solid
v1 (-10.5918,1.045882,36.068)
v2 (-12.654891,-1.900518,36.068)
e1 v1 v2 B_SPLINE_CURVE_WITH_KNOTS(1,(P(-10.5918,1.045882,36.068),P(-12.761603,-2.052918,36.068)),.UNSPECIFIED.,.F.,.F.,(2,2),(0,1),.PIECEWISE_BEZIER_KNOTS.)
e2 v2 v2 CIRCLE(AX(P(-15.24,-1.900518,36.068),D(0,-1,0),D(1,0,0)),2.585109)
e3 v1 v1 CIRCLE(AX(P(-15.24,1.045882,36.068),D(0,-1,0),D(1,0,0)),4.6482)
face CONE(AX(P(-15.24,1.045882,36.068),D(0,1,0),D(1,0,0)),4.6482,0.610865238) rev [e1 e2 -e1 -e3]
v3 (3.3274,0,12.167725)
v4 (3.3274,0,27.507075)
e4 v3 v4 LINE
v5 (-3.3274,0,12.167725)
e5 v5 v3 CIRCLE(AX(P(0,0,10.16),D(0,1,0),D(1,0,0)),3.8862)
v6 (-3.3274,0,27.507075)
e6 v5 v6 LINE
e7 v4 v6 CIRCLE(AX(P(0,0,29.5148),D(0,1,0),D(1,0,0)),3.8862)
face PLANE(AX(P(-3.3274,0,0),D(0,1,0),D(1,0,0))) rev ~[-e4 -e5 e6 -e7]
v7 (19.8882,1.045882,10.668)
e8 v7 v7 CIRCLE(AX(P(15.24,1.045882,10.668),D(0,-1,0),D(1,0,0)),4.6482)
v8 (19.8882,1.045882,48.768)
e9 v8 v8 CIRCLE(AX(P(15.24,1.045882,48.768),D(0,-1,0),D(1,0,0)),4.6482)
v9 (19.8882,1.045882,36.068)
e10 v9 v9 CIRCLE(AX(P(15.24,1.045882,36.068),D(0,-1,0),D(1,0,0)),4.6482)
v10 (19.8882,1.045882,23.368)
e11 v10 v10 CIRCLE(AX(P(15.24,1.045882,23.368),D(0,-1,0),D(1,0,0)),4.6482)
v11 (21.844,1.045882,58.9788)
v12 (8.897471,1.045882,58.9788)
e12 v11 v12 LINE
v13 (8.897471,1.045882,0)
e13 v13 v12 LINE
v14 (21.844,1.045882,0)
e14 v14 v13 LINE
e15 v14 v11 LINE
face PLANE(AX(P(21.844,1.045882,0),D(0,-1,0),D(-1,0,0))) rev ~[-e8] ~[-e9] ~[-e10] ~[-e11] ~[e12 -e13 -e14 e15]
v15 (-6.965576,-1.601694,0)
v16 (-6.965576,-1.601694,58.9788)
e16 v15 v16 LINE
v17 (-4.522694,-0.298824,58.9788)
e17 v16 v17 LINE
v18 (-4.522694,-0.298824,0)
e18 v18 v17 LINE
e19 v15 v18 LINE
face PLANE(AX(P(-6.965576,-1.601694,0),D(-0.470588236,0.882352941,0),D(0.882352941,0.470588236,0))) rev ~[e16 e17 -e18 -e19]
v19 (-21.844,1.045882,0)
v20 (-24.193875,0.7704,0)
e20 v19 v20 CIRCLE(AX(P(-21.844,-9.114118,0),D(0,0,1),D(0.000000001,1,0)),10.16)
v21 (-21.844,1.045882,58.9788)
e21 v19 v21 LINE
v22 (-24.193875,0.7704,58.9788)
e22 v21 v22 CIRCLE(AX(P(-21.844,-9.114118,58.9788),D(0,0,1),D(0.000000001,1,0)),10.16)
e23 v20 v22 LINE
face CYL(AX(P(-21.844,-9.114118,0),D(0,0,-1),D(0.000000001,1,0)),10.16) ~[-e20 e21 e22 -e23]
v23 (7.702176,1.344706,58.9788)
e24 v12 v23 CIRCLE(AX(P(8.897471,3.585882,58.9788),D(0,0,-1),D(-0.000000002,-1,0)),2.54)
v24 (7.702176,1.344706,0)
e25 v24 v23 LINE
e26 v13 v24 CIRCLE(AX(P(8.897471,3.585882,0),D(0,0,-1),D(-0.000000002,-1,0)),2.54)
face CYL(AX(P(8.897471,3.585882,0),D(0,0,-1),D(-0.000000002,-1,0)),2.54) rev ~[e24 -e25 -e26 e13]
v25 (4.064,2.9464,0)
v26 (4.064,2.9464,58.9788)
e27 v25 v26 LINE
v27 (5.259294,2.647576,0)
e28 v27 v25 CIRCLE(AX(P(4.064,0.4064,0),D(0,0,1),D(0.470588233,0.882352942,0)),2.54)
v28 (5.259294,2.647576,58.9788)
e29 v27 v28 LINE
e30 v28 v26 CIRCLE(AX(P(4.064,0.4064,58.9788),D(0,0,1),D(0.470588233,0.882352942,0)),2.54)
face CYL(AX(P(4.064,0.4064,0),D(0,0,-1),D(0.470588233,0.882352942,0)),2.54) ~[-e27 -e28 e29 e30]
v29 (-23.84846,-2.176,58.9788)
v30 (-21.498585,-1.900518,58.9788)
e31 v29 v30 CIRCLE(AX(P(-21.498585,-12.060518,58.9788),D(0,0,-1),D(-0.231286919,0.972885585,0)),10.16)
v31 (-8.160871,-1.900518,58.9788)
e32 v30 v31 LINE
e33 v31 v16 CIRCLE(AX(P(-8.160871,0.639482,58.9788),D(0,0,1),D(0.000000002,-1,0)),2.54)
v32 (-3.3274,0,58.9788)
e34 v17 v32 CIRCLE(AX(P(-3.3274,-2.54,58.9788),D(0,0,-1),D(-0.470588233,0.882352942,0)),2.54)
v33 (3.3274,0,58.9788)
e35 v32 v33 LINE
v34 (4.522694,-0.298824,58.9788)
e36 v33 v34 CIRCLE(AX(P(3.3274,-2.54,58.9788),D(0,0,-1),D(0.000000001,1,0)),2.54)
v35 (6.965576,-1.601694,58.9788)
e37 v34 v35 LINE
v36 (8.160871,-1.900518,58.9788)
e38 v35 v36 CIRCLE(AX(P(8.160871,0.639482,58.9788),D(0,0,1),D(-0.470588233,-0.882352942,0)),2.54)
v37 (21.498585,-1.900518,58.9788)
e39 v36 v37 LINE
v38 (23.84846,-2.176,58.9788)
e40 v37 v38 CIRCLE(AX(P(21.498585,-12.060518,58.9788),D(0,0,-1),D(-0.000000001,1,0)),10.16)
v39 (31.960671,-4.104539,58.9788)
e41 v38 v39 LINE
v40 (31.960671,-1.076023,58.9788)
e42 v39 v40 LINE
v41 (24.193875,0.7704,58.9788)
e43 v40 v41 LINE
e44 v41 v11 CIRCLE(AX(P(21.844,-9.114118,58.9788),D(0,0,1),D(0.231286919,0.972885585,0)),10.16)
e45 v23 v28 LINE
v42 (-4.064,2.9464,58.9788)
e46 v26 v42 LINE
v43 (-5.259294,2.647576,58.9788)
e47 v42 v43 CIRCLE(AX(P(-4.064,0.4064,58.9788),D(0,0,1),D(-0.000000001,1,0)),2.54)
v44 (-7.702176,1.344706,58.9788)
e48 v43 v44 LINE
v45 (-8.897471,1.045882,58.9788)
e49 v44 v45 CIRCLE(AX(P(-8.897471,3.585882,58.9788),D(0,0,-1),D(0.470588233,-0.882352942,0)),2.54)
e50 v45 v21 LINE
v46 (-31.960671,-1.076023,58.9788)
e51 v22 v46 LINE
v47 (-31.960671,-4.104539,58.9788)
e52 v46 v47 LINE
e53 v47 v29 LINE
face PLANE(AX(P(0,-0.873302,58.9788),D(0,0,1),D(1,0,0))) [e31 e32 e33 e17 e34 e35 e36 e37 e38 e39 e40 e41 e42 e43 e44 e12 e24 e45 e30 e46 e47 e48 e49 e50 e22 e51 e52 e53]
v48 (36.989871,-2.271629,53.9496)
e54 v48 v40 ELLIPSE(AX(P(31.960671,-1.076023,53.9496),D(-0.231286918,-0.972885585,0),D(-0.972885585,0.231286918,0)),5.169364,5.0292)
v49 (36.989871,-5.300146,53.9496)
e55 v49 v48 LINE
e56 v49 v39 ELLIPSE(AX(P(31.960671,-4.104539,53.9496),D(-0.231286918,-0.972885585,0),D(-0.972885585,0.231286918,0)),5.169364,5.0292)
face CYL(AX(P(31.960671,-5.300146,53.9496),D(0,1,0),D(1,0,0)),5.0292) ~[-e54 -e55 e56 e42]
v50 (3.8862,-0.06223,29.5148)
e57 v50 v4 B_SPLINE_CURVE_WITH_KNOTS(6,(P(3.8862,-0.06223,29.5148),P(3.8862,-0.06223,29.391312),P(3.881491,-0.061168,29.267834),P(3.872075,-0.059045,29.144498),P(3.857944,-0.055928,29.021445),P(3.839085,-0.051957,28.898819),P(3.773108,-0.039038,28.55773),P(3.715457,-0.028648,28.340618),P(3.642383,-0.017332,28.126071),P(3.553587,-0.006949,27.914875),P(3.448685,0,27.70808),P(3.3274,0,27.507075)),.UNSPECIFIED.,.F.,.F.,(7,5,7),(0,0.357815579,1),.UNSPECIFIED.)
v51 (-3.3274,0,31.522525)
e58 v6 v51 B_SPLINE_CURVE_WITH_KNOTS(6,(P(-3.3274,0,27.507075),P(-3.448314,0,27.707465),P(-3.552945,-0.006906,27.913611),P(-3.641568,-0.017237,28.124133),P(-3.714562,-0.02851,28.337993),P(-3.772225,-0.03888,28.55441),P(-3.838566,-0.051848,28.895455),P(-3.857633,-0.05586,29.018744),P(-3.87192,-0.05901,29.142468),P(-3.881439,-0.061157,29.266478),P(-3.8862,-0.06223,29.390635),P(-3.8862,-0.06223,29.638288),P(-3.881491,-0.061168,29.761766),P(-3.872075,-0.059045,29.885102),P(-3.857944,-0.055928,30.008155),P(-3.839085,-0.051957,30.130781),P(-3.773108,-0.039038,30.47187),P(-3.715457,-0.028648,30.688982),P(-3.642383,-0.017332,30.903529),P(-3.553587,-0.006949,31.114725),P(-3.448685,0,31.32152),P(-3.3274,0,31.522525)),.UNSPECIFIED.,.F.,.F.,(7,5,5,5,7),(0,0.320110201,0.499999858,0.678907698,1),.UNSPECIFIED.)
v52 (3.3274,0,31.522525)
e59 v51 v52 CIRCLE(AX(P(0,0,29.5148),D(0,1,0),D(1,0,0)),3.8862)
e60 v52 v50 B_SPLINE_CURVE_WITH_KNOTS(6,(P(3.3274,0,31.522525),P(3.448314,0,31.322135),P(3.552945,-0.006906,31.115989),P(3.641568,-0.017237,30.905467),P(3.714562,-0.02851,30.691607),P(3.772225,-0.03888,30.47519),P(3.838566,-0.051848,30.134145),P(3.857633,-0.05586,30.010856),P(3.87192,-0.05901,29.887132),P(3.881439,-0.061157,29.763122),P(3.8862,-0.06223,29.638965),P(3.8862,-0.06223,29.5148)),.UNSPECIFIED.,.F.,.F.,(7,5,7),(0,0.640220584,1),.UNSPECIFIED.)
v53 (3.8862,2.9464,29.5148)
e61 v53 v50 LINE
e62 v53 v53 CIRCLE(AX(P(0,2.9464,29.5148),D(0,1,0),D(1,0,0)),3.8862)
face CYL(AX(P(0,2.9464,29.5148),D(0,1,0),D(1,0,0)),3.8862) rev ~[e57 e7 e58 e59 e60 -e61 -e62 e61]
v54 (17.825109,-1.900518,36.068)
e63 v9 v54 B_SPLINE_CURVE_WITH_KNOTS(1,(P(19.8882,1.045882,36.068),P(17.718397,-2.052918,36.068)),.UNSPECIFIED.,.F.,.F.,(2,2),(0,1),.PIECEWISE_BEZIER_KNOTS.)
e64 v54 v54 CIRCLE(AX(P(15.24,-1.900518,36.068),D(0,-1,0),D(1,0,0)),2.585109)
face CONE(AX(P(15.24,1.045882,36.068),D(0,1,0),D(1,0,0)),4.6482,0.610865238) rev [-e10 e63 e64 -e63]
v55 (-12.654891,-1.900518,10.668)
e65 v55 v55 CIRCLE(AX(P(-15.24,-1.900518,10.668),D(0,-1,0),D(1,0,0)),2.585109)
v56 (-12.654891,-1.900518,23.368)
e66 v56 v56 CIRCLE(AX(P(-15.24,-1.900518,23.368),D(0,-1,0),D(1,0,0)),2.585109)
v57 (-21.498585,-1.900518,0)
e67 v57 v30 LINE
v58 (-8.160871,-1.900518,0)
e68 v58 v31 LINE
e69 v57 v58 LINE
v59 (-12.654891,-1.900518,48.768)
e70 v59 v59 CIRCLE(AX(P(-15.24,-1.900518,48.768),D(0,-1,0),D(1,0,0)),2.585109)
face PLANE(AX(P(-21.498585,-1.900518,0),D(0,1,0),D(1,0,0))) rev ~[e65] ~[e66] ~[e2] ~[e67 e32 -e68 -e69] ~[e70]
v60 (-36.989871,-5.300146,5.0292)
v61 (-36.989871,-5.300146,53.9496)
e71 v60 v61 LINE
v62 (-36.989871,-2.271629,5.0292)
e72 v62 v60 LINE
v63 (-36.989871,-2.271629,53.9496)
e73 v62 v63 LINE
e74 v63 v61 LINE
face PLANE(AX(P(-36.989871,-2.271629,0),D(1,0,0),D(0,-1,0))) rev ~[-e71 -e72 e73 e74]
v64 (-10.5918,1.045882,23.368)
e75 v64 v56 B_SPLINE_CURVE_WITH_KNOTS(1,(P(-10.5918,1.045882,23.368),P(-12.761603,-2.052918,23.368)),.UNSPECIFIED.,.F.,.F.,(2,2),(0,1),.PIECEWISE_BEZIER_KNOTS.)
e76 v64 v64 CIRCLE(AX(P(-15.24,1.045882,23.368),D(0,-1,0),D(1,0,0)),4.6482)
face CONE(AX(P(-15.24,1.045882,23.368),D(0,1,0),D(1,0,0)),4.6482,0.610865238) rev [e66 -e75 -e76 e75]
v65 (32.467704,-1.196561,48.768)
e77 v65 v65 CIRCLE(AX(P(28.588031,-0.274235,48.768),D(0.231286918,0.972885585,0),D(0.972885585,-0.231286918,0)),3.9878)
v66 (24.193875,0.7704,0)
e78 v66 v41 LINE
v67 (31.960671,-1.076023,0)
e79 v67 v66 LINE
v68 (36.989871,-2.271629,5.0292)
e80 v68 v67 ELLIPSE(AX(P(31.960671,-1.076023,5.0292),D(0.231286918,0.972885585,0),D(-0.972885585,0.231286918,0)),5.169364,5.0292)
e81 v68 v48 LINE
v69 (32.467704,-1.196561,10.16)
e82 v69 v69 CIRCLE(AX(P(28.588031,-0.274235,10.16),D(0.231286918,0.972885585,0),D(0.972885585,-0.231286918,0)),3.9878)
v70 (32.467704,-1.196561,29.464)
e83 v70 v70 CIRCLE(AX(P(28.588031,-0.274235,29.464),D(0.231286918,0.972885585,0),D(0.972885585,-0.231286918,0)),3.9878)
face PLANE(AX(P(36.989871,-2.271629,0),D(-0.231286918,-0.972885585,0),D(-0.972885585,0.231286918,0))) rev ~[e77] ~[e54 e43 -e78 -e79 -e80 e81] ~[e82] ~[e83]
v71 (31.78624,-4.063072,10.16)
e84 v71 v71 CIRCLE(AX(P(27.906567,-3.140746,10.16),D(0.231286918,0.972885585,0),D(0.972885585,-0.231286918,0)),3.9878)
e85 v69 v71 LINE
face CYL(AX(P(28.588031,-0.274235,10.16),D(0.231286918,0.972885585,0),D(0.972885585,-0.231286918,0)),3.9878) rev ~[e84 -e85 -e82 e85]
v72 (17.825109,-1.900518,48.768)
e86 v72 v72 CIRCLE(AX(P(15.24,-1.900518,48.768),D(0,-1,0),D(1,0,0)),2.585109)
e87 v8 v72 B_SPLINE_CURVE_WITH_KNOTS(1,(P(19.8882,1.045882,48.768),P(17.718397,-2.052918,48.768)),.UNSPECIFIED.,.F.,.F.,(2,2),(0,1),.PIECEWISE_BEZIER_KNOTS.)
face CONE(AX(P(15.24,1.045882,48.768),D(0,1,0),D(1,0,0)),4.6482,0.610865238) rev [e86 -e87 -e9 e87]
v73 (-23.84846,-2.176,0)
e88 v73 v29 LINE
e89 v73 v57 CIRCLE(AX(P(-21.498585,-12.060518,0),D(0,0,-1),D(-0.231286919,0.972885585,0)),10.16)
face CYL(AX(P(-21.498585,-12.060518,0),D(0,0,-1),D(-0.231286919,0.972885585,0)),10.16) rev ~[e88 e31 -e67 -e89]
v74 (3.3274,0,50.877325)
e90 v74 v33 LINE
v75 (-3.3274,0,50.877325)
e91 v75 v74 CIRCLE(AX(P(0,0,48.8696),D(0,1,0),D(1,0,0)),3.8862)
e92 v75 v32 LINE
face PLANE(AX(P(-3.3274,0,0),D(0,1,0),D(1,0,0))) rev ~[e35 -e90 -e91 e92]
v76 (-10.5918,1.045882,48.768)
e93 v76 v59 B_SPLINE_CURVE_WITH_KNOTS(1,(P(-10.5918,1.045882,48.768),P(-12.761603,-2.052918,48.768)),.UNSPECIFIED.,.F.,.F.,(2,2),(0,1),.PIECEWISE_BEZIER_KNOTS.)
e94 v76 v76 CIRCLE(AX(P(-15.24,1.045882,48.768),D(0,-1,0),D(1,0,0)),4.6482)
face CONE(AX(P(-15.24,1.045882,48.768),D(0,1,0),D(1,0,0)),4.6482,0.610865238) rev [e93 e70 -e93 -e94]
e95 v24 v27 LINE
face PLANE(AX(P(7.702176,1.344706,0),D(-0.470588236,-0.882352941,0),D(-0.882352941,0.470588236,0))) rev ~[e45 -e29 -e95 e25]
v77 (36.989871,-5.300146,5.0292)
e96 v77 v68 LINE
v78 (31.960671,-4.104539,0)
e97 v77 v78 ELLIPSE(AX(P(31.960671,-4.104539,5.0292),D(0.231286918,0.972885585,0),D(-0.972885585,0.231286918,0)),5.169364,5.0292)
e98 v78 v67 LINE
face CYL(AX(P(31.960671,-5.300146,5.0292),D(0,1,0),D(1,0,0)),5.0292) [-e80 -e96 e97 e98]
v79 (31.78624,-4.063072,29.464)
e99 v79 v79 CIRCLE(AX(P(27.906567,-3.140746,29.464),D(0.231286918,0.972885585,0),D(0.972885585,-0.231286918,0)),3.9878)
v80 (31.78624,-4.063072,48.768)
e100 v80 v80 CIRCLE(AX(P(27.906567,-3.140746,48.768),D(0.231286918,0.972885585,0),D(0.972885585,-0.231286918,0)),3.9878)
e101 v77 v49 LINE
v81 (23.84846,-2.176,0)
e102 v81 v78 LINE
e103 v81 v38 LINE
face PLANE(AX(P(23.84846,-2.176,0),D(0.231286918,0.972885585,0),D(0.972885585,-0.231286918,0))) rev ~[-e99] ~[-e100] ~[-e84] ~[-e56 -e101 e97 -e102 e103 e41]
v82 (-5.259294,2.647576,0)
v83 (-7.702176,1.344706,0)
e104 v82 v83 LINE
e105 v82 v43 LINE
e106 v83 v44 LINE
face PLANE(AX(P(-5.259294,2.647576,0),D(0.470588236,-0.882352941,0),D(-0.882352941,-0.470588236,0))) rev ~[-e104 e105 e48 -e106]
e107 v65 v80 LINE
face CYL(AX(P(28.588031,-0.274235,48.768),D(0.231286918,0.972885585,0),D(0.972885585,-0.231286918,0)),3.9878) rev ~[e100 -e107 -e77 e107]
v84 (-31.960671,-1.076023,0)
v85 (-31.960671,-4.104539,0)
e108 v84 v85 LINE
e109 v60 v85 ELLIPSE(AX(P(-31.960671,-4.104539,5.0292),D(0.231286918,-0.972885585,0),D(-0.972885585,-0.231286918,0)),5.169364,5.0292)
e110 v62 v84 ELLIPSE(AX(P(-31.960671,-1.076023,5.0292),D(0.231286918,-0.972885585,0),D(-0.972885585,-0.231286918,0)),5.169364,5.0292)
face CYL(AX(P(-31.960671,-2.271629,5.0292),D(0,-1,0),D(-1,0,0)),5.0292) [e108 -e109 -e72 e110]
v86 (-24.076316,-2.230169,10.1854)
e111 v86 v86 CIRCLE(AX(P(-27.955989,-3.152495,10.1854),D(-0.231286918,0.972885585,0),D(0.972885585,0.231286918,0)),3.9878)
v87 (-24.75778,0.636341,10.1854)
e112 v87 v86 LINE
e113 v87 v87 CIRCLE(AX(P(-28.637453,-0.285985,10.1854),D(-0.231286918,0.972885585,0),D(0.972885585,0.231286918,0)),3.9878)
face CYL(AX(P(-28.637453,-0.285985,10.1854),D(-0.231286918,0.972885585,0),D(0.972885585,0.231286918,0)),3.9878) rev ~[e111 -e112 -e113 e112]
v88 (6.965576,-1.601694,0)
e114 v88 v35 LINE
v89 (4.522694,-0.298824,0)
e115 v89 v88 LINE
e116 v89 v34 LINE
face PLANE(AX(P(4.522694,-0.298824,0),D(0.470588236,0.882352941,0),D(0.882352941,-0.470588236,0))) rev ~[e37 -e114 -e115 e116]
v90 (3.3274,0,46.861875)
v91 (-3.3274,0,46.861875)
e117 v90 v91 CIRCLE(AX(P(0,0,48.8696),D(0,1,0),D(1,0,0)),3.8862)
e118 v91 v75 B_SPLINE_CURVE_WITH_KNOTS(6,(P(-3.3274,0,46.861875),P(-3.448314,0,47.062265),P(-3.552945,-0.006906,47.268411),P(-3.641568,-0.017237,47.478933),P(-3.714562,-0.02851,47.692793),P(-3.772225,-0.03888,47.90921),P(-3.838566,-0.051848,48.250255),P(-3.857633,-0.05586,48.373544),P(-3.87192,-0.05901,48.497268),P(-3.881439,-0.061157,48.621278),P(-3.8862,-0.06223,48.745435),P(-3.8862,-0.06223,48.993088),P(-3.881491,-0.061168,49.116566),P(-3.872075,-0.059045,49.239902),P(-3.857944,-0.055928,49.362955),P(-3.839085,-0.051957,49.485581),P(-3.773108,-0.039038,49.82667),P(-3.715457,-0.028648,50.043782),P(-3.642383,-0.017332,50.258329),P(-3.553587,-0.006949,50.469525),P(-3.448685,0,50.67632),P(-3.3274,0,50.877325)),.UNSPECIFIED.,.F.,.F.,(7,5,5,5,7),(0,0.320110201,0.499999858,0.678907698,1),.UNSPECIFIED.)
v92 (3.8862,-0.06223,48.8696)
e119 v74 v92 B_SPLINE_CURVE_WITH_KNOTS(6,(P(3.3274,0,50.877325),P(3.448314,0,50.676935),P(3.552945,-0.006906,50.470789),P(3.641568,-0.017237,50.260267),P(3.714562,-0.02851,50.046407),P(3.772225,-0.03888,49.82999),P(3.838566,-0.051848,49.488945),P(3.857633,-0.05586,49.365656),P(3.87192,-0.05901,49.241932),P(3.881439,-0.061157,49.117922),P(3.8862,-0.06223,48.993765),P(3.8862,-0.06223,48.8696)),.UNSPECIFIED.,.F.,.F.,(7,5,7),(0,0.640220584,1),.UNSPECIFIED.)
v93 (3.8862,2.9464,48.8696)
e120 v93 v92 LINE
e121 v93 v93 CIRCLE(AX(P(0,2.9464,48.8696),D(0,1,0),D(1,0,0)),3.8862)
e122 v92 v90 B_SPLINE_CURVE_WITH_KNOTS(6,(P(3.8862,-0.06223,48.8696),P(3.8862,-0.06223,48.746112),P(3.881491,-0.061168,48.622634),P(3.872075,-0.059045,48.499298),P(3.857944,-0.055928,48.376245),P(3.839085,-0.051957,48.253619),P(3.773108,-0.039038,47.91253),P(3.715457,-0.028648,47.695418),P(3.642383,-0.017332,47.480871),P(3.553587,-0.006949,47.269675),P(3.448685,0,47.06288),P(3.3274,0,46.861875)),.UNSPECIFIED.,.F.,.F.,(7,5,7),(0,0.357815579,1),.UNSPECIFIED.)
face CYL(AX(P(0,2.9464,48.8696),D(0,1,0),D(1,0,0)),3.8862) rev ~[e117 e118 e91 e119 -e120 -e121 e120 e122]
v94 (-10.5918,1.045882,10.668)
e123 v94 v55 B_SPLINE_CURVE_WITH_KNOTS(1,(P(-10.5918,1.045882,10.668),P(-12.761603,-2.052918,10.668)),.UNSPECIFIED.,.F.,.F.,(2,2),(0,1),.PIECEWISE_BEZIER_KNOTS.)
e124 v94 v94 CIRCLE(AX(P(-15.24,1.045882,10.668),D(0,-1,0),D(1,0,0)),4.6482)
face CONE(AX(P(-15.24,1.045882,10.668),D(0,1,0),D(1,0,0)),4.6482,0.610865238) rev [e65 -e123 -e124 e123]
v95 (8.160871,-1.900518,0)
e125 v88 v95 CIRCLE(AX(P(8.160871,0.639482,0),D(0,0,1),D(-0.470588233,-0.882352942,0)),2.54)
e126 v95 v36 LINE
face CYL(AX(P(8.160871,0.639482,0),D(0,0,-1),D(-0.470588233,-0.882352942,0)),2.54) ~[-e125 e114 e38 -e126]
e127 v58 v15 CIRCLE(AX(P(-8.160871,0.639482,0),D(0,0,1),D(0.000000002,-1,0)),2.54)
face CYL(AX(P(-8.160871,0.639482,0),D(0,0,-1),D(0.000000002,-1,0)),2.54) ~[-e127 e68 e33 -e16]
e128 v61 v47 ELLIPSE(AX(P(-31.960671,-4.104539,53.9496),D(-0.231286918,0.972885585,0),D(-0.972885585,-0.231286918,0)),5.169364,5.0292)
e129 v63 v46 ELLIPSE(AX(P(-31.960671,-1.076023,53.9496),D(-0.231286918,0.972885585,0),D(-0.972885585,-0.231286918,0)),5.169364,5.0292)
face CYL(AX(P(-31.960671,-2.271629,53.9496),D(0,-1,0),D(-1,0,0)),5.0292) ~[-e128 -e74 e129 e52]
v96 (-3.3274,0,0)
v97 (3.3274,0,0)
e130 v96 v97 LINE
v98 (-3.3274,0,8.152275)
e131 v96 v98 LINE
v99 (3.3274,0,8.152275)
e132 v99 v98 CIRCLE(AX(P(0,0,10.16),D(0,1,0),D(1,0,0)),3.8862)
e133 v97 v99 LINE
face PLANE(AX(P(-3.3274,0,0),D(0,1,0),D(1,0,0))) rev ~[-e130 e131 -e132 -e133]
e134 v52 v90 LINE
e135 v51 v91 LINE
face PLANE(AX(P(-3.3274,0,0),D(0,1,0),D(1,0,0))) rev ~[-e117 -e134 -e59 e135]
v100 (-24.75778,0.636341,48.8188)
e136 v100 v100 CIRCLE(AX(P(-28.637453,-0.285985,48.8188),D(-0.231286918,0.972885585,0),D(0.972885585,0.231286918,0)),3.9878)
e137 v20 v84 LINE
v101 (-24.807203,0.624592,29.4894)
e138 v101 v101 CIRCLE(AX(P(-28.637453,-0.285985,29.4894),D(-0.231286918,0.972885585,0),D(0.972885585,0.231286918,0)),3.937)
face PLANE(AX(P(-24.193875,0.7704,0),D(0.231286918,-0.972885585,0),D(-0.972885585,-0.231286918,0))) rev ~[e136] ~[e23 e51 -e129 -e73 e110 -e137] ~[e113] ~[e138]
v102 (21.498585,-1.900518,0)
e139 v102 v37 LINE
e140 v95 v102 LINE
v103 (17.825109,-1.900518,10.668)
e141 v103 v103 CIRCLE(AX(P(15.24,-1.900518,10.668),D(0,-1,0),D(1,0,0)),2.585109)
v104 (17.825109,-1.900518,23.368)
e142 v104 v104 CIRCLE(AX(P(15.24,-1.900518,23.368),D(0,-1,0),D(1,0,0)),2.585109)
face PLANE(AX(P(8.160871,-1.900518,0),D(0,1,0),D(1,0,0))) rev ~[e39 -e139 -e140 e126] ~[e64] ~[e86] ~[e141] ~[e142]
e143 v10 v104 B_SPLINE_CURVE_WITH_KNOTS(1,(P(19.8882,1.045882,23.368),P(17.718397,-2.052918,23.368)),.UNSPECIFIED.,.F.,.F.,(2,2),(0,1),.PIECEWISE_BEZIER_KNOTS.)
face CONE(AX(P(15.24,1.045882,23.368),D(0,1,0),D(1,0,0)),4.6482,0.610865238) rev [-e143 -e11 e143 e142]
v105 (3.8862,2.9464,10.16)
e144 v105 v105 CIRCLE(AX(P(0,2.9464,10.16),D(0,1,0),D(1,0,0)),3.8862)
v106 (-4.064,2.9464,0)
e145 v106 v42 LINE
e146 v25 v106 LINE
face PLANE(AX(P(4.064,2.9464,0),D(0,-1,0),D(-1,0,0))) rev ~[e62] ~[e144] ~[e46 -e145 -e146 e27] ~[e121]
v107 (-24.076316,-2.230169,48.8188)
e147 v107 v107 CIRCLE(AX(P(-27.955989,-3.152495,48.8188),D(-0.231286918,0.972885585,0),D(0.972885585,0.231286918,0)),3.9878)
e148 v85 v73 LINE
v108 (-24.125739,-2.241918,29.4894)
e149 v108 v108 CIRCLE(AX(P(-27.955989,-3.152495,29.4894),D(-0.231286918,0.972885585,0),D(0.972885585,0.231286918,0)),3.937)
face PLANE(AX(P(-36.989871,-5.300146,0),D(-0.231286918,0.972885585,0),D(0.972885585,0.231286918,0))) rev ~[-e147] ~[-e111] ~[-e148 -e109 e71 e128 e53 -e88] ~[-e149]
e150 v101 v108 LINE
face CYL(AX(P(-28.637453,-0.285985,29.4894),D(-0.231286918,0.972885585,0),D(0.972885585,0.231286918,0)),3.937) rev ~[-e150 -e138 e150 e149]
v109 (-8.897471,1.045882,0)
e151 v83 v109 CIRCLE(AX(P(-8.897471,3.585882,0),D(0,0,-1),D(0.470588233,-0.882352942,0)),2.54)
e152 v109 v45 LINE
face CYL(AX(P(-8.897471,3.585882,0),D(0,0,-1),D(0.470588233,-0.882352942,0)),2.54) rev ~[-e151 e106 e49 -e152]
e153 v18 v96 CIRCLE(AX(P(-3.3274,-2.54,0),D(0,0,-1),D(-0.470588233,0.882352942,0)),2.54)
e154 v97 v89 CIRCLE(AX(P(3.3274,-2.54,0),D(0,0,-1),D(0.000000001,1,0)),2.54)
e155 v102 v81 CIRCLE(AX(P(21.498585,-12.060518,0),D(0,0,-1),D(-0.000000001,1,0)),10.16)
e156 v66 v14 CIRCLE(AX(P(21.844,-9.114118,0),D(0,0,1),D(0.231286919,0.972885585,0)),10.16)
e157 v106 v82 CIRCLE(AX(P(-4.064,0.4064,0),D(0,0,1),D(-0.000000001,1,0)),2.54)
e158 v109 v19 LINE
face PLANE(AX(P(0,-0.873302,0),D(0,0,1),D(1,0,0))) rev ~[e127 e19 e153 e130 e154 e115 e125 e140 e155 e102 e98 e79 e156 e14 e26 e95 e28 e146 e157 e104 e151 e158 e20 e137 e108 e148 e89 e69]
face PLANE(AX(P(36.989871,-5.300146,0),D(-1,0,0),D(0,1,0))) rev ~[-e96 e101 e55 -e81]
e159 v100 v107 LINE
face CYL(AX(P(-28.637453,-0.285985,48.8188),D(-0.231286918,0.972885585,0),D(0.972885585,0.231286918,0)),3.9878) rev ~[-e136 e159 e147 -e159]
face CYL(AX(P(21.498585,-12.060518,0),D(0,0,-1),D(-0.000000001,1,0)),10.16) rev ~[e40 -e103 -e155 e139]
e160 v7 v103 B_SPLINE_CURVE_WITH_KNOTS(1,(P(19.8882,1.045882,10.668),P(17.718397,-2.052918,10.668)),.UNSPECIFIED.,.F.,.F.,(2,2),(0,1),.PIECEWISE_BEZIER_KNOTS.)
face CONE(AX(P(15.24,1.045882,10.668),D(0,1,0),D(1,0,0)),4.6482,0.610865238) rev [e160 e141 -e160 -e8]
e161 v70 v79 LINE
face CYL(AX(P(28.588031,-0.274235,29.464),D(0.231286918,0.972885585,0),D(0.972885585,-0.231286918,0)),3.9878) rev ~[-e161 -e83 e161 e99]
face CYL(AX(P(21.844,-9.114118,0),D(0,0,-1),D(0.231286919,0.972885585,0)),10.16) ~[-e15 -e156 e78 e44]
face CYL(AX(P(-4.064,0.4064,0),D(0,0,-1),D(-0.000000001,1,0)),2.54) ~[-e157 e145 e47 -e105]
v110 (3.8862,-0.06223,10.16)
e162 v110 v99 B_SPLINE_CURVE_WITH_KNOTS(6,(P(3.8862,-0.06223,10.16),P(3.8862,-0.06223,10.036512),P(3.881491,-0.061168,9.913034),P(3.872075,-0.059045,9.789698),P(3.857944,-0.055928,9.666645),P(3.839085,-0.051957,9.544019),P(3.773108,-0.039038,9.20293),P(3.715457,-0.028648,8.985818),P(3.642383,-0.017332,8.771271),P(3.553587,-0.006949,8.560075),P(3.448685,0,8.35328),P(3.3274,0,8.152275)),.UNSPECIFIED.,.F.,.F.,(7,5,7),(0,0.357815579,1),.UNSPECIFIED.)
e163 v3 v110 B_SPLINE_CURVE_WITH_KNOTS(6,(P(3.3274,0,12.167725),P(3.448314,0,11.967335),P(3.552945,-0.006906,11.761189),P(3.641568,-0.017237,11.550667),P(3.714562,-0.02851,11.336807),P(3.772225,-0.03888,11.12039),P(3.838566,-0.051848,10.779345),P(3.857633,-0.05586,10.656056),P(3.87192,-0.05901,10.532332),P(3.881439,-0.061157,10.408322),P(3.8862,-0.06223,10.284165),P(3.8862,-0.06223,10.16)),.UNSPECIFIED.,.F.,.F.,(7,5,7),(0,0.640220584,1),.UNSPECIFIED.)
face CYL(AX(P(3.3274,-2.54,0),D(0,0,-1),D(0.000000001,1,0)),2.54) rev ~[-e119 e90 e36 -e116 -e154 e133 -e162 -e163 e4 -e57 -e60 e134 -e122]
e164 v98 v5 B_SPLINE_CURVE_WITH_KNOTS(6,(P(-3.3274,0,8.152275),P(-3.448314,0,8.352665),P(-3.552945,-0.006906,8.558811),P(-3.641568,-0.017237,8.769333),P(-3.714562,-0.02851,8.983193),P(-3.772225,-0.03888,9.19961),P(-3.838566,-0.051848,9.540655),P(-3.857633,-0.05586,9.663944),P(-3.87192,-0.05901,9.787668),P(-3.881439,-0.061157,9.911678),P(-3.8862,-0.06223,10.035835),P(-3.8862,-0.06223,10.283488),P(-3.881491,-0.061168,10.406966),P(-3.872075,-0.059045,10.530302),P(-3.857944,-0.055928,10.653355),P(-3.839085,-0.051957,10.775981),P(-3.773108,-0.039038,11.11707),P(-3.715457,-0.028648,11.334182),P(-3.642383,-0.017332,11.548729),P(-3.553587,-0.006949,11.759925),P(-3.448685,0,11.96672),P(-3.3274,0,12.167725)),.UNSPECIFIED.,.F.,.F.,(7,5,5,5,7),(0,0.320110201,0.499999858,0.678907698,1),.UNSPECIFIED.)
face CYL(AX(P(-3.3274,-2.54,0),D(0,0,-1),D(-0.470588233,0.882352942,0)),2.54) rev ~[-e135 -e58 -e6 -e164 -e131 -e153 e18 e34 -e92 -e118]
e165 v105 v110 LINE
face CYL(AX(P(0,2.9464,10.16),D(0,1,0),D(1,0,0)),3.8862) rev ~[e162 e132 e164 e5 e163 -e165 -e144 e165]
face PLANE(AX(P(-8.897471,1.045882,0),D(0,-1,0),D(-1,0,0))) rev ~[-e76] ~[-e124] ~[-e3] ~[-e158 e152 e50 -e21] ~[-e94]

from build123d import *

# Parameters (mm, degrees)
BOSS_EXTRUDE1_DEPTH = 58.9788
FILLET3_R           = 5.0292
SKETCH2_R           = 3.9878
SKETCH2_R_2         = 3.937
CUT_EXTRUDE1_DEPTH  = 58.9788
SKETCH3_R           = 4.6482
CUT_EXTRUDE6_DEPTH  = 3.0988
CUT_EXTRUDE6_TAPER  = 35
SKETCH5_R           = 4.6482
CUT_EXTRUDE7_DEPTH  = 3.0988
CUT_EXTRUDE7_TAPER  = 35
SKETCH6_R           = 3.9878
CUT_EXTRUDE8_DEPTH  = 50.8
SKETCH7_R           = 3.8862
CUT_EXTRUDE9_DEPTH  = 50.8


with BuildPart() as part:
    # Sketch1 → Boss-Extrude1 (new body)
    with BuildSketch(Plane.XY):
        with BuildLine():
            Line((0, 0), (3.3274, 0))
            ThreePointArc((3.3274, 0), (3.943440488, -0.07583805), (4.522694118, -0.298823529))
            Line((4.522694118, -0.298823529), (6.965576471, -1.601694118))
            ThreePointArc((6.965576471, -1.601694118), (7.544830101, -1.824679597), (8.160870588, -1.900517647))
            Line((8.160870588, -1.900517647), (21.498585253, -1.900517647))
            ThreePointArc((21.498585253, -1.900517647), (22.681569141, -1.96962328), (23.848460342, -2.176000104))
            Line((23.848460342, -2.176000104), (36.989870588, -5.300145762))
            Line((36.989870588, -5.300145762), (36.989870588, -2.27162931))
            Line((36.989870588, -2.27162931), (24.193875089, 0.770399896))
            ThreePointArc((24.193875089, 0.770399896), (23.026983888, 0.97677672), (21.844, 1.045882353))
            Line((21.844, 1.045882353), (8.897470588, 1.045882353))
            ThreePointArc((8.897470588, 1.045882353), (8.281430101, 1.121720403), (7.702176471, 1.344705882))
            Line((7.702176471, 1.344705882), (5.259294118, 2.647576471))
            ThreePointArc((5.259294118, 2.647576471), (4.680040488, 2.87056195), (4.064, 2.9464))
            Line((4.064, 2.9464), (-4.064, 2.9464))
            ThreePointArc((-4.064, 2.9464), (-4.680040488, 2.87056195), (-5.259294118, 2.647576471))
            Line((-5.259294118, 2.647576471), (-7.702176471, 1.344705882))
            ThreePointArc((-7.702176471, 1.344705882), (-8.281430101, 1.121720403), (-8.897470588, 1.045882353))
            Line((-8.897470588, 1.045882353), (-21.844, 1.045882353))
            ThreePointArc((-21.844, 1.045882353), (-23.026983888, 0.97677672), (-24.193875089, 0.770399896))
            Line((-24.193875089, 0.770399896), (-36.989870588, -2.27162931))
            Line((-36.989870588, -2.27162931), (-36.989870588, -5.300145762))
            Line((-36.989870588, -5.300145762), (-23.848460342, -2.176000104))
            ThreePointArc((-23.848460342, -2.176000104), (-22.681569141, -1.96962328), (-21.498585253, -1.900517647))
            Line((-21.498585253, -1.900517647), (-8.160870588, -1.900517647))
            ThreePointArc((-8.160870588, -1.900517647), (-7.544830101, -1.824679597), (-6.965576471, -1.601694118))
            Line((-6.965576471, -1.601694118), (-4.522694118, -0.298823529))
            ThreePointArc((-4.522694118, -0.298823529), (-3.943440488, -0.07583805), (-3.3274, 0))
            Line((-3.3274, 0), (0, 0))
        make_face()
    extrude(amount=BOSS_EXTRUDE1_DEPTH)

    # Fillet3
    fillet3_edges = [part.edges().sort_by_distance(p)[0] for p in [
        (-36.989870588, -3.785887536, 0),
        (36.989870588, -3.785887536, 0),
        (36.989870588, -3.785887536, 58.9788),
        (-36.989870588, -3.785887536, 58.9788),
    ]]
    fillet(fillet3_edges, radius=FILLET3_R)

    # Sketch2 → Cut-Extrude1 (cut)
    with BuildSketch(Plane(origin=(-1.467570487, 6.173190353, 0), x_dir=(0.972885585, 0.231286918, 0), z_dir=(-0.231286918, 0.972885585, 0))):
        with Locations((-27.927110028, -10.1854)):
            Circle(SKETCH2_R)
        with Locations((-27.927110028, -29.4894)):
            Circle(SKETCH2_R_2)
        with Locations((-27.927110028, -48.8188)):
            Circle(SKETCH2_R)
    extrude(amount=-CUT_EXTRUDE1_DEPTH, mode=Mode.SUBTRACT)

    # Sketch3 → Cut-Extrude6 (cut)
    with BuildSketch(Plane(origin=(0, 1.045882353, 0), x_dir=(1, 0, 0), z_dir=(0, 1, 0))):
        with Locations((-15.24, -10.668)):
            Circle(SKETCH3_R)
        with Locations((-15.24, -23.368)):
            Circle(SKETCH3_R)
        with Locations((-15.24, -36.068)):
            Circle(SKETCH3_R)
        with Locations((-15.24, -48.768)):
            Circle(SKETCH3_R)
    extrude(amount=-CUT_EXTRUDE6_DEPTH, taper=CUT_EXTRUDE6_TAPER, mode=Mode.SUBTRACT)

    # Sketch5 → Cut-Extrude7 (cut)
    with BuildSketch(Plane(origin=(0, 1.045882353, 0), x_dir=(1, 0, 0), z_dir=(0, 1, 0))):
        with Locations((15.24, -10.668)):
            Circle(SKETCH5_R)
        with Locations((15.24, -23.368)):
            Circle(SKETCH5_R)
        with Locations((15.24, -36.068)):
            Circle(SKETCH5_R)
        with Locations((15.24, -48.768)):
            Circle(SKETCH5_R)
    extrude(amount=-CUT_EXTRUDE7_DEPTH, taper=CUT_EXTRUDE7_TAPER, mode=Mode.SUBTRACT)

    # Sketch6 → Cut-Extrude8 (cut)
    with BuildSketch(Plane(origin=(1.467570487, 6.173190353, 0), x_dir=(0.972885585, -0.231286918, 0), z_dir=(0.231286918, 0.972885585, 0))):
        with Locations((27.876310028, -10.16)):
            Circle(SKETCH6_R)
        with Locations((27.876310028, -29.464)):
            Circle(SKETCH6_R)
        with Locations((27.876310028, -48.768)):
            Circle(SKETCH6_R)
    extrude(amount=-CUT_EXTRUDE8_DEPTH, mode=Mode.SUBTRACT)

    # Sketch7 → Cut-Extrude9 (cut)
    with BuildSketch(Plane(origin=(0, 2.9464, 0), x_dir=(1, 0, 0), z_dir=(0, 1, 0))):
        with Locations((0, -10.16)):
            Circle(SKETCH7_R)
        with Locations((0, -29.5148)):
            Circle(SKETCH7_R)
        with Locations((0, -48.8696)):
            Circle(SKETCH7_R)
    extrude(amount=-CUT_EXTRUDE9_DEPTH, mode=Mode.SUBTRACT)


solid = part.part
